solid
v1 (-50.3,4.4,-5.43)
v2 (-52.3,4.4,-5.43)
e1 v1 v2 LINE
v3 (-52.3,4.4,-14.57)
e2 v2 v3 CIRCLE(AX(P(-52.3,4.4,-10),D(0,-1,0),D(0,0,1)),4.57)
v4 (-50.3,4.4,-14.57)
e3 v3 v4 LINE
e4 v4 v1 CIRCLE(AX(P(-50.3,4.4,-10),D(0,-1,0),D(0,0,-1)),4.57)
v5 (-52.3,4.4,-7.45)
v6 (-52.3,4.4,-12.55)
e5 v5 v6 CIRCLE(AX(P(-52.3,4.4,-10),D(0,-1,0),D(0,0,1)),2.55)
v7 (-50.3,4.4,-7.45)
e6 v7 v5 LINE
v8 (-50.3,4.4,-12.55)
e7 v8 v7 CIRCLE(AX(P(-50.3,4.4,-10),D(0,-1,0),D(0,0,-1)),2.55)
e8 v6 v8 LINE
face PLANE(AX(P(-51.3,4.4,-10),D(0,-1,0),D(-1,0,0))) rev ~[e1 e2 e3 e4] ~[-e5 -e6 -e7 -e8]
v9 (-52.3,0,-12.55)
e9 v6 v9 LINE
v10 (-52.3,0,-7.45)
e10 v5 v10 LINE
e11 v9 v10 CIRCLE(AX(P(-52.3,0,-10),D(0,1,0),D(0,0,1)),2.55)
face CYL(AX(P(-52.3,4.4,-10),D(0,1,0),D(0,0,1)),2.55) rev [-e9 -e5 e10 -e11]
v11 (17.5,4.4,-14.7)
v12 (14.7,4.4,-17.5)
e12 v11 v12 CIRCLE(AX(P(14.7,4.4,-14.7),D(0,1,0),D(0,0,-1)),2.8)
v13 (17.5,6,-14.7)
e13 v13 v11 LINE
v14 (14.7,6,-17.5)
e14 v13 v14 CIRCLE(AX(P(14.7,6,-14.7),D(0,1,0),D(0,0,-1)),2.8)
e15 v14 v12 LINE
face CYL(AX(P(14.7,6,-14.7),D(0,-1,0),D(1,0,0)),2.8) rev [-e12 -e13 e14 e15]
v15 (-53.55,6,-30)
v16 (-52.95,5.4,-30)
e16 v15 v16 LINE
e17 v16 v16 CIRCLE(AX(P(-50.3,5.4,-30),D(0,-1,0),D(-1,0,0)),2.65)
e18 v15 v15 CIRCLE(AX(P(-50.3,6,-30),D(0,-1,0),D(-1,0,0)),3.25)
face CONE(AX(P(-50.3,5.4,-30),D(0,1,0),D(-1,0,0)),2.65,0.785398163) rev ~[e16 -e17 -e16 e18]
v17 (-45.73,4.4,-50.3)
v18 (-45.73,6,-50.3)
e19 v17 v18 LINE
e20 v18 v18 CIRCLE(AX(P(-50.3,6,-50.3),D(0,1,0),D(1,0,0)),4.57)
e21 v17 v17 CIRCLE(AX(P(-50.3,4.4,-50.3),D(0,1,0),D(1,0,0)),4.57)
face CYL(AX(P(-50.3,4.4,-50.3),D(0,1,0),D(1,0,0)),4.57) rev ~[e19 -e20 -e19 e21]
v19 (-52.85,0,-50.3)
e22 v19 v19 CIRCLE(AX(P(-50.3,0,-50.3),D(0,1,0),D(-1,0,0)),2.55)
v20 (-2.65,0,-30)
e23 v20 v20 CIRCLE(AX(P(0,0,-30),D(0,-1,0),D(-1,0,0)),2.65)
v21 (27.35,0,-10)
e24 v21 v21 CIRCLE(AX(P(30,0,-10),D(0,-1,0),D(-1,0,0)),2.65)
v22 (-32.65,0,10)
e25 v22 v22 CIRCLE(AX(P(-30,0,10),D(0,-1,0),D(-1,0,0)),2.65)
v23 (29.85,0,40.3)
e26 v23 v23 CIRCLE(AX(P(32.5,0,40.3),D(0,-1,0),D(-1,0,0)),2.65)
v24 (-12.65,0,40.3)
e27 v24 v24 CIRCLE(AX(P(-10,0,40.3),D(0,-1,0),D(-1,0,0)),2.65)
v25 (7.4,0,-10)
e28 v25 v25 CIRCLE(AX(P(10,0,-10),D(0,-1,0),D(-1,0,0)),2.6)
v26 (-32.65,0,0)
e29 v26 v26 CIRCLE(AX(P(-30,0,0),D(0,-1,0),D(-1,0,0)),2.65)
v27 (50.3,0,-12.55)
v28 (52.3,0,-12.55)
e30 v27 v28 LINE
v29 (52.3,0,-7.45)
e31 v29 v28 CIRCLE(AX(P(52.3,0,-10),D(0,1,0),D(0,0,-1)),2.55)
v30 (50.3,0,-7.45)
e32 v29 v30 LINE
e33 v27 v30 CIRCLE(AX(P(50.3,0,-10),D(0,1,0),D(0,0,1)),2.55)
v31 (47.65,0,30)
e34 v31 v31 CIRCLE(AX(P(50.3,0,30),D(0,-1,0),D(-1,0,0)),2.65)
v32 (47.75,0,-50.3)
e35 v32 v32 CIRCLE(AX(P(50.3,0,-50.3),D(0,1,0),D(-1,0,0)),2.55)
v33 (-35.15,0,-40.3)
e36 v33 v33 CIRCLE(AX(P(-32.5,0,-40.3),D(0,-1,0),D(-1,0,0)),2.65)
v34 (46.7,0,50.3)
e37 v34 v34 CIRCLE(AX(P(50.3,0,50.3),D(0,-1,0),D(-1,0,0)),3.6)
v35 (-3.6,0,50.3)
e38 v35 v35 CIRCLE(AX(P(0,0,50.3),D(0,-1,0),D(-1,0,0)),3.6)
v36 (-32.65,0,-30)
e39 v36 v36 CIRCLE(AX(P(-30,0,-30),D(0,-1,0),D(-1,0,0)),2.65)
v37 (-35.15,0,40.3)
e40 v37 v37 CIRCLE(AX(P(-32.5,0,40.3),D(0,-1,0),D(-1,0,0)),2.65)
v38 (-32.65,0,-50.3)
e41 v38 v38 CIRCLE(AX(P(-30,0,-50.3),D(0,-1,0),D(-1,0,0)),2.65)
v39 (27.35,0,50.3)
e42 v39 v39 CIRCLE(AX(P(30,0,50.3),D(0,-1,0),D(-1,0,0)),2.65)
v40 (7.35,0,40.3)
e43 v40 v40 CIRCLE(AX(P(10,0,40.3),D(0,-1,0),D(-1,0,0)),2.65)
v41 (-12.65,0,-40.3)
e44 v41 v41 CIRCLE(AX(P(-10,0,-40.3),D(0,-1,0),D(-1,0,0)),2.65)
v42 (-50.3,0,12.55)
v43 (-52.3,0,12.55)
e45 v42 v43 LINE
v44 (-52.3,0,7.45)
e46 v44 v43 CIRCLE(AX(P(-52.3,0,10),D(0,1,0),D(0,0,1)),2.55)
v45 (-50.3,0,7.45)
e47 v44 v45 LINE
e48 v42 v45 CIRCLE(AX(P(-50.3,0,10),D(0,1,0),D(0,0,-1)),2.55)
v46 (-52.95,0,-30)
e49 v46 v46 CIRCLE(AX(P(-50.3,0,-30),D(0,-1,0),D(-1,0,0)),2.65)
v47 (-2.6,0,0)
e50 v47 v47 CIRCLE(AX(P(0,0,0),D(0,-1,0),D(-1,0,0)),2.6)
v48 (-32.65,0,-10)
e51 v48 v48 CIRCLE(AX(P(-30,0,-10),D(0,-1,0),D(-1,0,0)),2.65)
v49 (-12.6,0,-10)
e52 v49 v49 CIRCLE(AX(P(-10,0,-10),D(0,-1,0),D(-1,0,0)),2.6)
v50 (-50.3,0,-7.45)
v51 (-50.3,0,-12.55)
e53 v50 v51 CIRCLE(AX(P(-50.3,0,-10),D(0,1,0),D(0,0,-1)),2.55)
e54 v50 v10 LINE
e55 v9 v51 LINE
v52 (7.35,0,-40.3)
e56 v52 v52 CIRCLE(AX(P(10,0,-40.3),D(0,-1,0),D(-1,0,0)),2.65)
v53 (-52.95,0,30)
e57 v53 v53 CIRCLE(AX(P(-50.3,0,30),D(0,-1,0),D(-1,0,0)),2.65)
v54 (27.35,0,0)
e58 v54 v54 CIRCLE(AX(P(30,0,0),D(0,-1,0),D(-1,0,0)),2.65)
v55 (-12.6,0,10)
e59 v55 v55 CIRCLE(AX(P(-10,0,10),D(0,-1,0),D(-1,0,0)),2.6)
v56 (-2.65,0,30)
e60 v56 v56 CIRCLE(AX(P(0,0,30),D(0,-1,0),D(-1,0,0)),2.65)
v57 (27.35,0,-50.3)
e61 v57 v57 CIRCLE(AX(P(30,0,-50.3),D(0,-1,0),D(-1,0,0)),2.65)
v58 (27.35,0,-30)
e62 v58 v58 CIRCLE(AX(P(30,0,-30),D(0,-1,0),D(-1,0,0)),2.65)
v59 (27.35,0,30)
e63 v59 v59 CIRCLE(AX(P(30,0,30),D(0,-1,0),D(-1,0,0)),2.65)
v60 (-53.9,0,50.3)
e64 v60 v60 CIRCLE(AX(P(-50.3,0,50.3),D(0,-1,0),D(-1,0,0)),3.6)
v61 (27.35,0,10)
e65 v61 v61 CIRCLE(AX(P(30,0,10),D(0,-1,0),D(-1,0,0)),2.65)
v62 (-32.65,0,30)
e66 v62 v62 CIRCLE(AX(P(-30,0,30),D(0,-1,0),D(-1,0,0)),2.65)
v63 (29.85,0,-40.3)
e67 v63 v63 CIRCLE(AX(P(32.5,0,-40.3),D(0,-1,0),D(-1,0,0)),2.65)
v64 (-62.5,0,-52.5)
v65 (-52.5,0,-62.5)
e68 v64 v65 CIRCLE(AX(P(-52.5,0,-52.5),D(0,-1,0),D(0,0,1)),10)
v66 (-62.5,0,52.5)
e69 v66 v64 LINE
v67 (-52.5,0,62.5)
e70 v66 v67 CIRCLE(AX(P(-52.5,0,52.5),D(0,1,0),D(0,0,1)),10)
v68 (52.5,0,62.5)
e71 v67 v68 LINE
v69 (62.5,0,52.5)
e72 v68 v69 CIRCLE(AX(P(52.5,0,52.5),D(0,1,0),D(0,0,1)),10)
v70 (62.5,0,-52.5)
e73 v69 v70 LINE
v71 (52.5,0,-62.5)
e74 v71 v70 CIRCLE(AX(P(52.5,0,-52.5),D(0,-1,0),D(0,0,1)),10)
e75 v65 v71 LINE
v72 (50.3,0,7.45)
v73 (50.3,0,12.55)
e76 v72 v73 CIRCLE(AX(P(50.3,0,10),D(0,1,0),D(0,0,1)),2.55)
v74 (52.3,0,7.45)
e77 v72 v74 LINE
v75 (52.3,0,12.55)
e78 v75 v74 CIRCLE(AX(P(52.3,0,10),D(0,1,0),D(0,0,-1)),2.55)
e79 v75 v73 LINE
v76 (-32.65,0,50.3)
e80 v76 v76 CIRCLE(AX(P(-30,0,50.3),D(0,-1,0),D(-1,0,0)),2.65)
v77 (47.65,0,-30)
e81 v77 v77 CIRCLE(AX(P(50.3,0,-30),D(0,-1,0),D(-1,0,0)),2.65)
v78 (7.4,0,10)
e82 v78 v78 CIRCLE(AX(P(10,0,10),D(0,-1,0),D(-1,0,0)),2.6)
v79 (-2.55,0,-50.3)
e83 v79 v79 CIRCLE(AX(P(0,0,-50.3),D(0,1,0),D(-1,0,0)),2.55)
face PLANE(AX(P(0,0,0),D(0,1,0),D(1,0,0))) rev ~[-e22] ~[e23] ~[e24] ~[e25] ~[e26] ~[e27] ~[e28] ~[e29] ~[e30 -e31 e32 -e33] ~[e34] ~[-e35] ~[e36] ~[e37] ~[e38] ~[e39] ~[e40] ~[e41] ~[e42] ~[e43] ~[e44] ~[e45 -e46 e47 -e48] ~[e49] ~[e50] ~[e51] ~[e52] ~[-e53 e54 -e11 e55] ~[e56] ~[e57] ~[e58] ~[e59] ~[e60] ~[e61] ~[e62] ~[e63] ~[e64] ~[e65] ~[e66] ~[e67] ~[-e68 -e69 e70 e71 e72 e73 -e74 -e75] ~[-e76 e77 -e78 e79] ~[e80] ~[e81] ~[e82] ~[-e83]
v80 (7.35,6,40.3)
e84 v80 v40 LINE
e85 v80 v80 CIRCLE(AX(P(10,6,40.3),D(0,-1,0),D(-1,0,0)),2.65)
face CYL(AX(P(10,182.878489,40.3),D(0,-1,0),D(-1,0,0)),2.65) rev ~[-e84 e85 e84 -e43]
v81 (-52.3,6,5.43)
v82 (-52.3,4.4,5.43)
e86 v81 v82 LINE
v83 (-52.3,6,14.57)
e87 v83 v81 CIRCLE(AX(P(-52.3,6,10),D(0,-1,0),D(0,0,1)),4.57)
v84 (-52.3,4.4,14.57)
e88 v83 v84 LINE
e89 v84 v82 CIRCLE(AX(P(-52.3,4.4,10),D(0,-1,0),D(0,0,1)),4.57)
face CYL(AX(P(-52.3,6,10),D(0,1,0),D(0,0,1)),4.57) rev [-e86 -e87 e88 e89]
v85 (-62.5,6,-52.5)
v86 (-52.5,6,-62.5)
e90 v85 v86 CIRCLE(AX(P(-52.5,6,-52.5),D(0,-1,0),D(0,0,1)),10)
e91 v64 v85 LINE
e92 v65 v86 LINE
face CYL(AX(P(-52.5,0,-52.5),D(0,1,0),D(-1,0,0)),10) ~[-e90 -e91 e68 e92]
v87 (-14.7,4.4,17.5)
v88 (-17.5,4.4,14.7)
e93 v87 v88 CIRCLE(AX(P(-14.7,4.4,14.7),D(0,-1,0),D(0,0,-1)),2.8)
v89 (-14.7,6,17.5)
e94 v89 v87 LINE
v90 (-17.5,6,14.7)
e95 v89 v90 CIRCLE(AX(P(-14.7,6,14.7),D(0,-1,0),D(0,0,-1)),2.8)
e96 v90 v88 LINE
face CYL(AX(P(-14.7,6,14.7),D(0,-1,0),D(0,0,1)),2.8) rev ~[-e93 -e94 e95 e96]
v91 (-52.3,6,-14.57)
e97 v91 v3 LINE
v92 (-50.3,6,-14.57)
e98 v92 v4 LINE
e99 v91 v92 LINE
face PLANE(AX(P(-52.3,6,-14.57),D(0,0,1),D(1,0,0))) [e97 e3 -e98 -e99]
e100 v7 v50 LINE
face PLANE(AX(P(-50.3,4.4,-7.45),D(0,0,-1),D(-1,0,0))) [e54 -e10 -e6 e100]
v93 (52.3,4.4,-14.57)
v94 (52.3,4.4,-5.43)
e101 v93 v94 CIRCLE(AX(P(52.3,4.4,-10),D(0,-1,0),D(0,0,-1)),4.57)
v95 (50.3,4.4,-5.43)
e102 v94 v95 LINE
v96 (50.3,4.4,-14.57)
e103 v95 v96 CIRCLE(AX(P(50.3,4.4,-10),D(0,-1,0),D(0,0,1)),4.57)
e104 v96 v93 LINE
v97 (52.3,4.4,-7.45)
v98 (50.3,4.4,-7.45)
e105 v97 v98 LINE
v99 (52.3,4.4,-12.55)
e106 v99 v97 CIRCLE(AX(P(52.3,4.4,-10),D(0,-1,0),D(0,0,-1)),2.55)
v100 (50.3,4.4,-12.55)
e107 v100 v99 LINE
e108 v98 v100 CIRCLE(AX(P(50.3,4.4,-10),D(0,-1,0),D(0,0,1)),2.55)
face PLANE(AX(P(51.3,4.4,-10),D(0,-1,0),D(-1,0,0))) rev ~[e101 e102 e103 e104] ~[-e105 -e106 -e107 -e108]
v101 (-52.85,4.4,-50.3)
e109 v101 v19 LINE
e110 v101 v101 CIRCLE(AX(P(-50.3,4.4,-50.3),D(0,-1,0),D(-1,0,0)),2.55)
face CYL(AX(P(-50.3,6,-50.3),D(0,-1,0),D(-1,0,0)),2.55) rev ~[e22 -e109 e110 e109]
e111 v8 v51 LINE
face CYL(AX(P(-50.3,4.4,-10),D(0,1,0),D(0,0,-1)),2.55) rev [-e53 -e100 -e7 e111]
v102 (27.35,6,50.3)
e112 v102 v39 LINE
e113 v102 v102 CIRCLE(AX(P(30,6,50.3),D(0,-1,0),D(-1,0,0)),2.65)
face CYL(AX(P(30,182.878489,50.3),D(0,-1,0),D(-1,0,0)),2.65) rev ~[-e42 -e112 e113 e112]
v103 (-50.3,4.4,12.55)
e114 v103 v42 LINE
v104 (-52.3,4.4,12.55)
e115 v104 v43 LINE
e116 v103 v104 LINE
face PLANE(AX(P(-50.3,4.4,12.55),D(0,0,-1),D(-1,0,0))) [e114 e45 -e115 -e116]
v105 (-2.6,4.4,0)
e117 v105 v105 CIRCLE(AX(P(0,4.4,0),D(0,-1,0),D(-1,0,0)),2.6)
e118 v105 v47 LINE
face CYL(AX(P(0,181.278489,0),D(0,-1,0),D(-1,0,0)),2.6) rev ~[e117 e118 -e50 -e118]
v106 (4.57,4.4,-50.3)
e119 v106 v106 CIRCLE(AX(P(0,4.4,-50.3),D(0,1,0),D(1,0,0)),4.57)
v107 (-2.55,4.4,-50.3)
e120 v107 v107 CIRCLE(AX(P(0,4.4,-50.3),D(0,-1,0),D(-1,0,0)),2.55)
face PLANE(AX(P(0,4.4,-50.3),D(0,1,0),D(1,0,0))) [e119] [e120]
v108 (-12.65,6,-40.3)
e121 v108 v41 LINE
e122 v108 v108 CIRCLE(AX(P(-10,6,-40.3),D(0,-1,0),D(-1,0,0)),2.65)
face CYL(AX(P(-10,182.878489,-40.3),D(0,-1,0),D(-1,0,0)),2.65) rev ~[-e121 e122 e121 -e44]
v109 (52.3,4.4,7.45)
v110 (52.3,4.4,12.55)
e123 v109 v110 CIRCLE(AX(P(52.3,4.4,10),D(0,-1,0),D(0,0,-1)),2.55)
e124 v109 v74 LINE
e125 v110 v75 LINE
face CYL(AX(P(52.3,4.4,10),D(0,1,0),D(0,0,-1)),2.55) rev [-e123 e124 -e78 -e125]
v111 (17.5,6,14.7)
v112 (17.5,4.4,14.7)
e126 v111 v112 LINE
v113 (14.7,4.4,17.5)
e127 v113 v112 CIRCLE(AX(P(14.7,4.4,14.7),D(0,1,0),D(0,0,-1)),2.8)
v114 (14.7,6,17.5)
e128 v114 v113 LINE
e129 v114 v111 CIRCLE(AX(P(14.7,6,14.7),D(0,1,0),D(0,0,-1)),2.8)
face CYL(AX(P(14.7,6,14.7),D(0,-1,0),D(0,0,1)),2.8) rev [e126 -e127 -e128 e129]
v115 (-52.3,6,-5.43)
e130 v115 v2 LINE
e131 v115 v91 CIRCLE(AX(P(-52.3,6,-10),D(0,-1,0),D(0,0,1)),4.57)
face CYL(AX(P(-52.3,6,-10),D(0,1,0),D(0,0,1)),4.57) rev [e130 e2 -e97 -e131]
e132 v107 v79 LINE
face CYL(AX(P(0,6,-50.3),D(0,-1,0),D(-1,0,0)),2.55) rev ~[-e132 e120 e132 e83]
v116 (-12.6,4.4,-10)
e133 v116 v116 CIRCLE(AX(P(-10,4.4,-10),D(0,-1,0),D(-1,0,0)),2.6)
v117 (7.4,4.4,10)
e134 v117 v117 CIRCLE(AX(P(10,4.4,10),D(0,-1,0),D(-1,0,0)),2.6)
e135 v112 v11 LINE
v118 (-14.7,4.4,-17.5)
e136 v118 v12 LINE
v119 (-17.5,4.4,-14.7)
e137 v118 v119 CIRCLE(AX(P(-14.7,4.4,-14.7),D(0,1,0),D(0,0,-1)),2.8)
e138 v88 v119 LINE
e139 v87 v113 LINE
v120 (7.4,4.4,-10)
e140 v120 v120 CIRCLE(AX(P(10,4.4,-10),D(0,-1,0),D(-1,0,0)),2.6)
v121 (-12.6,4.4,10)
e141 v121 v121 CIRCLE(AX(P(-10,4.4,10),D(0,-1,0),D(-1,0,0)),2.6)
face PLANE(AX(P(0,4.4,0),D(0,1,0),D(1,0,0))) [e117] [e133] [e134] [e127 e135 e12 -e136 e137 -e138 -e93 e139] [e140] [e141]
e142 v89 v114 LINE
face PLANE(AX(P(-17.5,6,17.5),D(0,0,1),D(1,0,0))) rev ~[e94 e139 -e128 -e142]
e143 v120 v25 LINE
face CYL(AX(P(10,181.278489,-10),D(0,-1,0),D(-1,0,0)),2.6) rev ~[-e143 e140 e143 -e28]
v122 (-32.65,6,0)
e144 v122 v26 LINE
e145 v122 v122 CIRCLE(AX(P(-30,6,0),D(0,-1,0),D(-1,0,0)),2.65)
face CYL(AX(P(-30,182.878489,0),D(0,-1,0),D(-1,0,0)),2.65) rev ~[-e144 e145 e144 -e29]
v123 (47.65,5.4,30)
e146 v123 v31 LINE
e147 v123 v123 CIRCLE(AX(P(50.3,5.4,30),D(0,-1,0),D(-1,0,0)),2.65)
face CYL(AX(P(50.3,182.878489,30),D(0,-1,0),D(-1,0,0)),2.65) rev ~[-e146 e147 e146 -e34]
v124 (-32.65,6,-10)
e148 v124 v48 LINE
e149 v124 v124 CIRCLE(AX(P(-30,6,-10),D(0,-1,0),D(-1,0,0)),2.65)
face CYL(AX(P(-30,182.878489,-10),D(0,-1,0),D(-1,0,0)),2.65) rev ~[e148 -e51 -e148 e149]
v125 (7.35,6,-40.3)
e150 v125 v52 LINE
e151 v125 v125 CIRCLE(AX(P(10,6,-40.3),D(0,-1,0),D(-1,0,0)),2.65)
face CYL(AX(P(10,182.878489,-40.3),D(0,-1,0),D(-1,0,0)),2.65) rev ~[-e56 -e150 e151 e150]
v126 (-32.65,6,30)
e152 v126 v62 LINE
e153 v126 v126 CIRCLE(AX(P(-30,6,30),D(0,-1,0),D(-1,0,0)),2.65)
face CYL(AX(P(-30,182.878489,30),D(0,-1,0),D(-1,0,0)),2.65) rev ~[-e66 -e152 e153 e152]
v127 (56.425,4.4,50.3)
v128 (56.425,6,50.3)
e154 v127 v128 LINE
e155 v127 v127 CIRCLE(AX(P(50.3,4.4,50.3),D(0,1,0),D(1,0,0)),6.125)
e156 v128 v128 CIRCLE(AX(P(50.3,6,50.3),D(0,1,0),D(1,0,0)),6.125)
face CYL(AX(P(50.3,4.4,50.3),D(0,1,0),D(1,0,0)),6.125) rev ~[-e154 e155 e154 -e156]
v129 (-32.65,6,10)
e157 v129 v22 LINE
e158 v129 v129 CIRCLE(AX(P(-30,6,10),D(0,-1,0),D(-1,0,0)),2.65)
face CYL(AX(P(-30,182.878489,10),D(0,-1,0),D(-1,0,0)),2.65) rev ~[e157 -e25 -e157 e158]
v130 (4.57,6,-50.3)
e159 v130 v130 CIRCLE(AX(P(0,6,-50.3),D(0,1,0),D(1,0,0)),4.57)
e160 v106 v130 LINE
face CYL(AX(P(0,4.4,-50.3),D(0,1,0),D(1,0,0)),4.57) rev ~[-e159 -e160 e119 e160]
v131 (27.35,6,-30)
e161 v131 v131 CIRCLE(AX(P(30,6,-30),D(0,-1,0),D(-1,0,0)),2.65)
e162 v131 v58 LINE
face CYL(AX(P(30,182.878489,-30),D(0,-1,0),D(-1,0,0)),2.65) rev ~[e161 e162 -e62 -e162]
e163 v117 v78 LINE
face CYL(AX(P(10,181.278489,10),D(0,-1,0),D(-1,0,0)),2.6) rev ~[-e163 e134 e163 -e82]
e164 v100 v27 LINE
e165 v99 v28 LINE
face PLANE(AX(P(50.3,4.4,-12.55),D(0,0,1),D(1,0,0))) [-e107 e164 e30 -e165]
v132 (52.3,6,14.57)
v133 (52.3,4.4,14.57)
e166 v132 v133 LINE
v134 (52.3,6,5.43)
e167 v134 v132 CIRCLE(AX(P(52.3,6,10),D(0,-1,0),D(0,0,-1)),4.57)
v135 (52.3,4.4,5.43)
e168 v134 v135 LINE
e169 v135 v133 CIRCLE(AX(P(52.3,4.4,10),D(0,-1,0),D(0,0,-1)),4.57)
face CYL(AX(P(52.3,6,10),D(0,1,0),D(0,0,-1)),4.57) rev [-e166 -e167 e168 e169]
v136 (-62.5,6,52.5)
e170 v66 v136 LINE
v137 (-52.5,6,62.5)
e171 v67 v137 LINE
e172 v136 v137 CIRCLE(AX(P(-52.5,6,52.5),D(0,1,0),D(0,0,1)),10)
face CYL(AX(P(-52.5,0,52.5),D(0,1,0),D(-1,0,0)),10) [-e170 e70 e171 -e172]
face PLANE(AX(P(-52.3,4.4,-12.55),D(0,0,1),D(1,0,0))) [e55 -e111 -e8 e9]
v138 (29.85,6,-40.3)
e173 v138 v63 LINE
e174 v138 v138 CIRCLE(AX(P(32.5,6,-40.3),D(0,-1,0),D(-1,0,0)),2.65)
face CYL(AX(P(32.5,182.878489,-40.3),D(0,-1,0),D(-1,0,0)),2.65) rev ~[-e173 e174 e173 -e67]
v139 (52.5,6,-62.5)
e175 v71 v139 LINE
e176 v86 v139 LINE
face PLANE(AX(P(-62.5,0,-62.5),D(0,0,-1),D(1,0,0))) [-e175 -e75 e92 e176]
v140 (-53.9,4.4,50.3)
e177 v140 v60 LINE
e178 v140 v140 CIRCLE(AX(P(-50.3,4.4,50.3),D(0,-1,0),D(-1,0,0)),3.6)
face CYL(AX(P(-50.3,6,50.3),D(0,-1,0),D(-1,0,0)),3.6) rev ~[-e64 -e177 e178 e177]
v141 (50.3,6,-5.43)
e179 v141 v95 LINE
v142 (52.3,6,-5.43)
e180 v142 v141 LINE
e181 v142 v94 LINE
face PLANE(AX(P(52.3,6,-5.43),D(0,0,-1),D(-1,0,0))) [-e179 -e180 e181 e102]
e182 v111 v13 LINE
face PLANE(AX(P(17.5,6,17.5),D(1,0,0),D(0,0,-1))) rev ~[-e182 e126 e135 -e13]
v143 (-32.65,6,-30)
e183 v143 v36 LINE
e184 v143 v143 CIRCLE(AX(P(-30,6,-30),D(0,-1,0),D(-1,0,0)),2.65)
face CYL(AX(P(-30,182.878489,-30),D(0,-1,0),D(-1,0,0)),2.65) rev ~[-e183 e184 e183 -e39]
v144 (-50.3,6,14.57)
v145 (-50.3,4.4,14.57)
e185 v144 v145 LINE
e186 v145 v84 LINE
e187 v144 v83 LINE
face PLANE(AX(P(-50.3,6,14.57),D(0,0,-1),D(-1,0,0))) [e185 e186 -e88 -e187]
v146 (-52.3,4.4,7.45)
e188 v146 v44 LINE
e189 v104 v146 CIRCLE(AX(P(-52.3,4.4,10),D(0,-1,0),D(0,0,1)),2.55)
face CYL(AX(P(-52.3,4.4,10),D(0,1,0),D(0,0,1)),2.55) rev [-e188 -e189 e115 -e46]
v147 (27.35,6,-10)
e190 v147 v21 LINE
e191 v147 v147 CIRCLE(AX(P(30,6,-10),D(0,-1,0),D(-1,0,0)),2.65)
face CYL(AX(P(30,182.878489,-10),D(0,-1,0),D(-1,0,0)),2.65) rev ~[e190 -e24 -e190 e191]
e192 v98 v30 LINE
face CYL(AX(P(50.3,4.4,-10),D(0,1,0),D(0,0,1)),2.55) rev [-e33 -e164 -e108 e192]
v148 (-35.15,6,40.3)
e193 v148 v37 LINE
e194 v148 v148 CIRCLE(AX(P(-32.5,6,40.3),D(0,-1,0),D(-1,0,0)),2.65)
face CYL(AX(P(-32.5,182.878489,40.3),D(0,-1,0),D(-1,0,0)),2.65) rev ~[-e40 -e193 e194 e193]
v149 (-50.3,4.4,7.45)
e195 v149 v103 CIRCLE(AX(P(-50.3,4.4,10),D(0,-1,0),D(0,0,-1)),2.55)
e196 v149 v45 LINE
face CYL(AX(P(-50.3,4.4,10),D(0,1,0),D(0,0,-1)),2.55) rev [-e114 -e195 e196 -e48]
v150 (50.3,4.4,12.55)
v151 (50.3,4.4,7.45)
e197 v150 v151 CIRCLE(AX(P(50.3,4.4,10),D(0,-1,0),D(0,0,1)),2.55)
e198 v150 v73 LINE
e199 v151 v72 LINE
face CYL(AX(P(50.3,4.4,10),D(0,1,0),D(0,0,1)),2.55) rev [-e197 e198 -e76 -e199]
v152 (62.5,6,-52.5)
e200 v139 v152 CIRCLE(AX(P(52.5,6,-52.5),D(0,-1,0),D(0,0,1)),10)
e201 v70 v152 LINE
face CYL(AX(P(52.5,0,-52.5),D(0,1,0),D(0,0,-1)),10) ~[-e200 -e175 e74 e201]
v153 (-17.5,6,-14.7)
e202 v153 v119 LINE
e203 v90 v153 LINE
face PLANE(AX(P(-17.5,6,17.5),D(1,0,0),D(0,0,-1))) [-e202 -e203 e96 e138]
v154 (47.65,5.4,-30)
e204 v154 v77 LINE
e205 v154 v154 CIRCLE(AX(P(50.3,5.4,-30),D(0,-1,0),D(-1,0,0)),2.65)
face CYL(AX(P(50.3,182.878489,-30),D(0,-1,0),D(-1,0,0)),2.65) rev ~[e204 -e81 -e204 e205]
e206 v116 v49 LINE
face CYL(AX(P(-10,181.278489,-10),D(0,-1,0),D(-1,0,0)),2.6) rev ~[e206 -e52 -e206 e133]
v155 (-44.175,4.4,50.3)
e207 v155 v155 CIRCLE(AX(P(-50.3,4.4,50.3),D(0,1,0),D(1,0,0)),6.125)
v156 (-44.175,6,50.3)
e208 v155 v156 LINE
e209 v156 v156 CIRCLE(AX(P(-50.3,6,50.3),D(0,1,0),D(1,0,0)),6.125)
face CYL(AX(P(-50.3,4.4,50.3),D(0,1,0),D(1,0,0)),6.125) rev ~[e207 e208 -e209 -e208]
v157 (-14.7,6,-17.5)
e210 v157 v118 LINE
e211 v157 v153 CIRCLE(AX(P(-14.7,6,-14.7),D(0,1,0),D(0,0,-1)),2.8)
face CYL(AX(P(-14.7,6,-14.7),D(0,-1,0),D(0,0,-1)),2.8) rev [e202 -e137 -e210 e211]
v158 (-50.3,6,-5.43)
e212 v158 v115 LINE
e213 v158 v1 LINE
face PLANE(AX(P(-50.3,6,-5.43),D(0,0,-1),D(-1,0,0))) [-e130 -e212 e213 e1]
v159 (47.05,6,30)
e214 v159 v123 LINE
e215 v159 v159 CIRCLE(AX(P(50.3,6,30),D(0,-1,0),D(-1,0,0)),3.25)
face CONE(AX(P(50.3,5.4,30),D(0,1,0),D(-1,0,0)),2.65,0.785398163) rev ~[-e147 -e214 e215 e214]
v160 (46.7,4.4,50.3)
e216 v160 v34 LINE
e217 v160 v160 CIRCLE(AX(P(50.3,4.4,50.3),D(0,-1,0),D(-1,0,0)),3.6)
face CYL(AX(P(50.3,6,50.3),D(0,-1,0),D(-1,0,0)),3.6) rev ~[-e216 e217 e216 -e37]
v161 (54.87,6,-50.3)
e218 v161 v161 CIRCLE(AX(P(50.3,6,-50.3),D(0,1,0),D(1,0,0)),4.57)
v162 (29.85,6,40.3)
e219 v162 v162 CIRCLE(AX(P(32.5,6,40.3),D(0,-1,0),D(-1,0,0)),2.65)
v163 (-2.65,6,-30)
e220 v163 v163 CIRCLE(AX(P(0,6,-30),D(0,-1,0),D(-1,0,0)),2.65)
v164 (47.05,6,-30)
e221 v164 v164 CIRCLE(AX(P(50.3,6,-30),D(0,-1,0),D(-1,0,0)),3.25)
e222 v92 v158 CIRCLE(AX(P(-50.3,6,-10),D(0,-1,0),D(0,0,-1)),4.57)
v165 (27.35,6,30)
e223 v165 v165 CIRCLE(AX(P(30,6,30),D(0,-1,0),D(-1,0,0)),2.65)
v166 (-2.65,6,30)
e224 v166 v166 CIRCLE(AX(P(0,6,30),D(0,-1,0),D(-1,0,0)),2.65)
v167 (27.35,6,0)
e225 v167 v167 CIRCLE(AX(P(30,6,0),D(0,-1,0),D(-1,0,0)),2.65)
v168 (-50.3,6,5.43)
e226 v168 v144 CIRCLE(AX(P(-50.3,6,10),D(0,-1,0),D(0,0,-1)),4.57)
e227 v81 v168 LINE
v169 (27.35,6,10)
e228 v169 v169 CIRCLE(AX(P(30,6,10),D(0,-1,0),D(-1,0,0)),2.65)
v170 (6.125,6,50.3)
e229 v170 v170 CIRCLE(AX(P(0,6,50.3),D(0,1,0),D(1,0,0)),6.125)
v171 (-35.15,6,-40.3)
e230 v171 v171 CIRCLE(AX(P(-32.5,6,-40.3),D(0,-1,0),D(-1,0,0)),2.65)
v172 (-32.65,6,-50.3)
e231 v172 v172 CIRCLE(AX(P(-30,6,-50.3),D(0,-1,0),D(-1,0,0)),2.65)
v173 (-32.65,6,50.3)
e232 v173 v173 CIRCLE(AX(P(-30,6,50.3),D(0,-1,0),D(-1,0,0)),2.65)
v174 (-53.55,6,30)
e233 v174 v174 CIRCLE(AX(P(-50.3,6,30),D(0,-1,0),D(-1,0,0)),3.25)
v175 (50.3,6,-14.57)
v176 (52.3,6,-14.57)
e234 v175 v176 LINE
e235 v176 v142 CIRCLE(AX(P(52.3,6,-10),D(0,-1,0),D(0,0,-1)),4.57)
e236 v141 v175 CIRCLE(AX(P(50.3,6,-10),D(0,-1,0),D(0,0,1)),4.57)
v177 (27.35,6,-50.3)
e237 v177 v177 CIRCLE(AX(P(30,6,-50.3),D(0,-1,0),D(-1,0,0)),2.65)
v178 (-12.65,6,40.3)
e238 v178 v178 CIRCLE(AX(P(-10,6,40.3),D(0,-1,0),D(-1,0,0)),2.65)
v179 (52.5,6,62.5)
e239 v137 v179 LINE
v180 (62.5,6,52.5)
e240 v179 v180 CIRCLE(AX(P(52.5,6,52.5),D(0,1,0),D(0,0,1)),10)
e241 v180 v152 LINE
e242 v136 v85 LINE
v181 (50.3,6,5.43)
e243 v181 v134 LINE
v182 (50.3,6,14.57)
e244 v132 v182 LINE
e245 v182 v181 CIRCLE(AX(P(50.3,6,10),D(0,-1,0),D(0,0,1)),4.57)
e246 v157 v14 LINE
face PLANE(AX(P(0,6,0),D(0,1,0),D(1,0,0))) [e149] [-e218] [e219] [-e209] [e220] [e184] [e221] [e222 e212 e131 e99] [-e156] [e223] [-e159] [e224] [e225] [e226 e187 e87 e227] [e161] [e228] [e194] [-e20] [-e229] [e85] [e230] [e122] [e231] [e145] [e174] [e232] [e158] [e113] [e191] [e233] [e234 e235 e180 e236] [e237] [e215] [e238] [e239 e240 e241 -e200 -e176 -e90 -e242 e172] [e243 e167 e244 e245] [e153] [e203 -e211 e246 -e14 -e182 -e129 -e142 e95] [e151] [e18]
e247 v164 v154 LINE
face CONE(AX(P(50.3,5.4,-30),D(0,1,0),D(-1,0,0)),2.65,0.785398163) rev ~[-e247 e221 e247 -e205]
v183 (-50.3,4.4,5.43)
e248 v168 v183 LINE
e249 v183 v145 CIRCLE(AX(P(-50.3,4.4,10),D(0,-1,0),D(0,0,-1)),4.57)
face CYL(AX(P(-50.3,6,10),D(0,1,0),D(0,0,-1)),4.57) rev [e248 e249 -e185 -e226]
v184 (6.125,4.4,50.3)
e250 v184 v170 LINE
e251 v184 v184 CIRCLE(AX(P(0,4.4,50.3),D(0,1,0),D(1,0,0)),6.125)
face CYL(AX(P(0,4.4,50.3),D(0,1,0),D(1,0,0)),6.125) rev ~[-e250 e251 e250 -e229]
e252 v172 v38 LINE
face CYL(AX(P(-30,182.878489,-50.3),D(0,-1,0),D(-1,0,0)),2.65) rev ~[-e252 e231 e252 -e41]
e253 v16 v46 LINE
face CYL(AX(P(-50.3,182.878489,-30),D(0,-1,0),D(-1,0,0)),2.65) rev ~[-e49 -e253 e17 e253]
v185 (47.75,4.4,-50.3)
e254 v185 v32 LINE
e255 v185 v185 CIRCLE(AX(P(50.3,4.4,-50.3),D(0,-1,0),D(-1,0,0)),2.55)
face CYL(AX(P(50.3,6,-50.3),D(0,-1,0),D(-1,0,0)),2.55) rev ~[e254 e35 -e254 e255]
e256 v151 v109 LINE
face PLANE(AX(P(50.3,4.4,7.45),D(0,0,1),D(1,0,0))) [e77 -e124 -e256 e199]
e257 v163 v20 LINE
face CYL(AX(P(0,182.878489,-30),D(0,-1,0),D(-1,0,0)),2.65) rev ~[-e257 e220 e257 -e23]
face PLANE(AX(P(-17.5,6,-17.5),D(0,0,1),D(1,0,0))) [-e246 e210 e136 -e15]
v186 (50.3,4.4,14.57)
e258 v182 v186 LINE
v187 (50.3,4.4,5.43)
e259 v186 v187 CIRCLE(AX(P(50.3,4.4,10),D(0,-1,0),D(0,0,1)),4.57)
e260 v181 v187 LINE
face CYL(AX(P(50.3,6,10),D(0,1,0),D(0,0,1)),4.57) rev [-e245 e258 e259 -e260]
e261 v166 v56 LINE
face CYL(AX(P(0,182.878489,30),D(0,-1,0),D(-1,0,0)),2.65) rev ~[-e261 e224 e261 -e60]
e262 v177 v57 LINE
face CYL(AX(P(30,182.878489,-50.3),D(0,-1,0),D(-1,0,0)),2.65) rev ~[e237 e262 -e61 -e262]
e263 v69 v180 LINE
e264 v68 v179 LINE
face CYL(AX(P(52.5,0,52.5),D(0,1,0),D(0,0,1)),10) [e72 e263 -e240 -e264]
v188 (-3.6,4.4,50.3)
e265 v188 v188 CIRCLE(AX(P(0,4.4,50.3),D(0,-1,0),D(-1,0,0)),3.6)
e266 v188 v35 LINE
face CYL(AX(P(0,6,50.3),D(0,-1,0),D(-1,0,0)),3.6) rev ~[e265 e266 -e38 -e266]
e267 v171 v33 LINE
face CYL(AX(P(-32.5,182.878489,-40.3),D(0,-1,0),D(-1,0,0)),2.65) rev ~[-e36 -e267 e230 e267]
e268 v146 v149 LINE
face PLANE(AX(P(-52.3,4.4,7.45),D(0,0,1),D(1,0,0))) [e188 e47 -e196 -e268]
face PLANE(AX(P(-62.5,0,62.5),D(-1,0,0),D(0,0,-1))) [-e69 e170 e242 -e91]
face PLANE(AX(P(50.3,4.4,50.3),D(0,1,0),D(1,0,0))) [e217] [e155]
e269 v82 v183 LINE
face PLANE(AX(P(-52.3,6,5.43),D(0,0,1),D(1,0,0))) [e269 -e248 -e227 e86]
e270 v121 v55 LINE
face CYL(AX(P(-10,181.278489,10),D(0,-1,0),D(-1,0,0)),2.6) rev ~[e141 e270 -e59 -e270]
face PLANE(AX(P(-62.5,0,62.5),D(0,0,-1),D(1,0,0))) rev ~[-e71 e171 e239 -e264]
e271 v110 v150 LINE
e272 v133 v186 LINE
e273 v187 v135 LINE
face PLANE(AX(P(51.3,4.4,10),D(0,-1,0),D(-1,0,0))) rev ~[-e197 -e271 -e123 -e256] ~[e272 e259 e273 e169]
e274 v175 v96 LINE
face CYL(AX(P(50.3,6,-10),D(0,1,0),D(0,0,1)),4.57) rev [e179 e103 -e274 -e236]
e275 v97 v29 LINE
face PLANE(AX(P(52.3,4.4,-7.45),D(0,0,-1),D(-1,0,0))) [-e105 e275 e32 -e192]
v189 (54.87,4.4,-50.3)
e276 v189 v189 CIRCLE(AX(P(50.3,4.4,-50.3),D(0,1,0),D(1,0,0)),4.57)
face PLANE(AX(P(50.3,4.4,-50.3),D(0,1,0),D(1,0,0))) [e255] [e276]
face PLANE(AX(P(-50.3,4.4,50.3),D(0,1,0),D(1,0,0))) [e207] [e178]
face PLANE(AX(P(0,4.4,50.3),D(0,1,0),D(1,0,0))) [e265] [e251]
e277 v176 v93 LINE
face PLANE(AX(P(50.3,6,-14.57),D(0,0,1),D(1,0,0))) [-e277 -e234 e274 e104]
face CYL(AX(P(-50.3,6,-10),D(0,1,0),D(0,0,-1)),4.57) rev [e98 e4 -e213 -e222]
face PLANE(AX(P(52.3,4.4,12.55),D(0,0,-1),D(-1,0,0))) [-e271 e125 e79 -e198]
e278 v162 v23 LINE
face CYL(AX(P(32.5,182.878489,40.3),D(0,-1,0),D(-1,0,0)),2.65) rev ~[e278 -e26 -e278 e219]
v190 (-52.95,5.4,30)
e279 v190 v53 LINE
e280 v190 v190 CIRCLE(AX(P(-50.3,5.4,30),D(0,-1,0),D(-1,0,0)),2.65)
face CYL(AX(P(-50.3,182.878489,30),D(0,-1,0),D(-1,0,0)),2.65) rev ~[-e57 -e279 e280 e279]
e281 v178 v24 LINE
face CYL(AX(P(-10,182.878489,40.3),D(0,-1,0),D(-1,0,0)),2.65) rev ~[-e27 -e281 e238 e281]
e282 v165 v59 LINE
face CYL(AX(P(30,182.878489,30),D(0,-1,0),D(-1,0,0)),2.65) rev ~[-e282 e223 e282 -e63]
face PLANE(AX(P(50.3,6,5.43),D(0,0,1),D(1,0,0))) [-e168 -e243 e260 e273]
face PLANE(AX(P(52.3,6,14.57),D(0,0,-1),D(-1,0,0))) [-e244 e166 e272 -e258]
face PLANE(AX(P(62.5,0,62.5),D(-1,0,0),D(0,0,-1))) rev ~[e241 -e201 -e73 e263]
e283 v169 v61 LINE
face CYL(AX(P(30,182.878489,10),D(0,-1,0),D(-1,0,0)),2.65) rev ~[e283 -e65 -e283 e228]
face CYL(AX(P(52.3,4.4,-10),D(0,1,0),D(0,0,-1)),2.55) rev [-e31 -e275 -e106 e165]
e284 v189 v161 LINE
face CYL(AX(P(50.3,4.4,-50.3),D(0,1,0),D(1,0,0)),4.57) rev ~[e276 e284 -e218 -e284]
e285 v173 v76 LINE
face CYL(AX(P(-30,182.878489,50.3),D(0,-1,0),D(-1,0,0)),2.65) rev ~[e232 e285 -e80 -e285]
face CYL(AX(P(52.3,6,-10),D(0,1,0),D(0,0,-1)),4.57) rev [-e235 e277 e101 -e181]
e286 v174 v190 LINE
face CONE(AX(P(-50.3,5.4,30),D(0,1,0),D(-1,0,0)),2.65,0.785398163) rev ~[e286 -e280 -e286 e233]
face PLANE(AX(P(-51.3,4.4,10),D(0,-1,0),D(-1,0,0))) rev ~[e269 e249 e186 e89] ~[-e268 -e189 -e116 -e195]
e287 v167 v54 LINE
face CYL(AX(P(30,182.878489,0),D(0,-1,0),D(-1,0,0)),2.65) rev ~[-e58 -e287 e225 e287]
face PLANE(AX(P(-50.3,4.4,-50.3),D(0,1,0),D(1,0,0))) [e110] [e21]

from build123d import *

# Parameters (mm, degrees)
SKETCH1_W                        = 125
SKETCH1_H                        = 125
BOSS_EXTRUDE1_DEPTH              = 6
CBORE_FOR_M6_5_SHSS1_D           = 7.2
CBORE_FOR_M6_5_SHSS1_CBORE_D     = 12.25
CBORE_FOR_M6_5_SHSS1_CBORE_DEPTH = 1.6
HOLE1_D                          = 5.1
HOLE1_DEPTH                      = 6
HOLE1_CBORE_D                    = 9.14
HOLE1_CBORE_DEPTH                = 1.6
HOLE1_TIP                        = 1.532194579
F_5_3_5_3_DIAMETER_HOLE1_D       = 5.3
F_5_3_5_3_DIAMETER_HOLE2_D       = 5.3
CUT_EXTRUDE1_DEPTH               = 1.6
CUT_EXTRUDE2_DEPTH               = 89.497796583
SKETCH16_W                       = 35
SKETCH16_H                       = 35
CUT_EXTRUDE3_DEPTH               = 1.6
F_5_2_5_2_DIAMETER_HOLE1_D       = 5.2
FILLET1_R                        = 10
FILLET2_R                        = 2.8
F_5_3_5_3_DIAMETER_HOLE3_D       = 5.3
CHAMFER1_SIZE                    = 0.6


with BuildPart() as part:
    # Sketch1 → Boss-Extrude1 (new body)
    with BuildSketch(Plane(origin=(0, 0, 0), x_dir=(1, 0, 0), z_dir=(0, 1, 0))):
        Rectangle(SKETCH1_W, SKETCH1_H)
    extrude(amount=BOSS_EXTRUDE1_DEPTH)

    # CBORE for M6.5 SHSS1 (through all)
    with Locations(Plane(origin=(0, 6, 0), x_dir=(1, 0, 0), z_dir=(0, 1, 0))):
        with Locations((-50.3, -50.3), (0, -50.3), (50.3, -50.3)):
            CounterBoreHole(CBORE_FOR_M6_5_SHSS1_D / 2, CBORE_FOR_M6_5_SHSS1_CBORE_D / 2, CBORE_FOR_M6_5_SHSS1_CBORE_DEPTH)

    # Hole1
    with Locations(Plane(origin=(0, 6, 0), x_dir=(1, 0, 0), z_dir=(0, 1, 0))):
        with Locations((-50.3, 50.3), (0, 50.3), (50.3, 50.3)):
            CounterBoreHole(HOLE1_D / 2, HOLE1_CBORE_D / 2, HOLE1_CBORE_DEPTH, depth=HOLE1_DEPTH)
            with Locations((0, 0, -(HOLE1_DEPTH + HOLE1_TIP / 2))):  # 118° drill point
                Cone(0, HOLE1_D / 2, HOLE1_TIP, mode=Mode.SUBTRACT)

    # Ø5.3 (5.3) Diameter Hole1 (through all)
    with Locations(Plane(origin=(0, 6, 0), x_dir=(1, 0, 0), z_dir=(0, 1, 0))):
        with Locations((-30, 50.3), (-32.5, 40.3), (-30, 30), (-10, 40.3), (0, 30), (-30, 10), (-30, 0)):
            Hole(F_5_3_5_3_DIAMETER_HOLE1_D / 2)

    # Ø5.3 (5.3) Diameter Hole2 (through all)
    with Locations(Plane(origin=(0, 6, 0), x_dir=(1, 0, 0), z_dir=(0, 1, 0))):
        with Locations((10, 40.3), (30, 50.3), (32.5, 40.3), (30, 30), (30, 10), (30, 0), (30, -10), (-30, -10), (-30, -30), (0, -30), (30, -30), (10, -40.3), (-10, -40.3), (-32.5, -40.3), (32.5, -40.3), (30, -50.3), (-30, -50.3)):
            Hole(F_5_3_5_3_DIAMETER_HOLE2_D / 2)

    # Sketch13 → Cut-Extrude1 (cut)
    with BuildSketch(Plane(origin=(0, 6, 0), x_dir=(1, 0, 0), z_dir=(0, 1, 0))):
        with BuildLine():
            Line((52.3, 5.43), (50.3, 5.43))
            ThreePointArc((50.3, 5.43), (45.73, 10), (50.3, 14.57))
            Line((50.3, 14.57), (52.3, 14.57))
            ThreePointArc((52.3, 14.57), (56.87, 10), (52.3, 5.43))
        make_face()
        with BuildLine():
            Line((-52.3, 14.57), (-50.3, 14.57))
            ThreePointArc((-50.3, 14.57), (-45.73, 10), (-50.3, 5.43))
            Line((-50.3, 5.43), (-52.3, 5.43))
            ThreePointArc((-52.3, 5.43), (-56.87, 10), (-52.3, 14.57))
        make_face()
        with BuildLine():
            Line((-52.3, -5.43), (-50.3, -5.43))
            ThreePointArc((-50.3, -5.43), (-45.73, -10), (-50.3, -14.57))
            Line((-50.3, -14.57), (-52.3, -14.57))
            ThreePointArc((-52.3, -14.57), (-56.87, -10), (-52.3, -5.43))
        make_face()
        with BuildLine():
            Line((52.3, -14.57), (50.3, -14.57))
            ThreePointArc((50.3, -14.57), (45.73, -10), (50.3, -5.43))
            Line((50.3, -5.43), (52.3, -5.43))
            ThreePointArc((52.3, -5.43), (56.87, -10), (52.3, -14.57))
        make_face()
    extrude(amount=-CUT_EXTRUDE1_DEPTH, mode=Mode.SUBTRACT)

    # Sketch15 → Cut-Extrude2 (cut, through all)
    with BuildSketch(Plane(origin=(0, 4.4, 0), x_dir=(1, 0, 0), z_dir=(0, 1, 0))):
        with BuildLine():
            Line((52.3, 7.45), (50.3, 7.45))
            ThreePointArc((50.3, 7.45), (47.75, 10), (50.3, 12.55))
            Line((50.3, 12.55), (52.3, 12.55))
            ThreePointArc((52.3, 12.55), (54.85, 10), (52.3, 7.45))
        make_face()
        with BuildLine():
            Line((-52.3, 12.55), (-50.3, 12.55))
            ThreePointArc((-50.3, 12.55), (-47.75, 10), (-50.3, 7.45))
            Line((-50.3, 7.45), (-52.3, 7.45))
            ThreePointArc((-52.3, 7.45), (-54.85, 10), (-52.3, 12.55))
        make_face()
        with BuildLine():
            Line((-52.3, -7.45), (-50.3, -7.45))
            ThreePointArc((-50.3, -7.45), (-47.75, -10), (-50.3, -12.55))
            Line((-50.3, -12.55), (-52.3, -12.55))
            ThreePointArc((-52.3, -12.55), (-54.85, -10), (-52.3, -7.45))
        make_face()
        with BuildLine():
            Line((50.3, -7.45), (52.3, -7.45))
            ThreePointArc((52.3, -7.45), (54.85, -10), (52.3, -12.55))
            Line((52.3, -12.55), (50.3, -12.55))
            ThreePointArc((50.3, -12.55), (47.75, -10), (50.3, -7.45))
        make_face()
    extrude(amount=-CUT_EXTRUDE2_DEPTH, mode=Mode.SUBTRACT)

    # Sketch16 → Cut-Extrude3 (cut)
    with BuildSketch(Plane(origin=(0, 6, 0), x_dir=(1, 0, 0), z_dir=(0, 1, 0))):
        Rectangle(SKETCH16_W, SKETCH16_H)
    extrude(amount=-CUT_EXTRUDE3_DEPTH, mode=Mode.SUBTRACT)

    # Ø5.2 (5.2) Diameter Hole1 (through all)
    with Locations(Plane(origin=(0, 4.4, 0), x_dir=(1, 0, 0), z_dir=(0, 1, 0))):
        with Locations((-10, 10), (0, 0), (10, 10), (10, -10), (-10, -10)):
            Hole(F_5_2_5_2_DIAMETER_HOLE1_D / 2)

    # Fillet1
    fillet1_edges = [part.edges().sort_by_distance(p)[0] for p in [
        (62.5, 3, 62.5),
        (-62.5, 3, 62.5),
        (-62.5, 3, -62.5),
        (62.5, 3, -62.5),
    ]]
    fillet(fillet1_edges, radius=FILLET1_R)

    # Fillet2
    fillet2_edges = [part.edges().sort_by_distance(p)[0] for p in [
        (17.5, 5.2, -17.5),
        (17.5, 5.2, 17.5),
        (-17.5, 5.2, 17.5),
        (-17.5, 5.2, -17.5),
    ]]
    fillet(fillet2_edges, radius=FILLET2_R)

    # Ø5.3 (5.3) Diameter Hole3 (through all)
    with Locations(Plane(origin=(0, 6, 0), x_dir=(1, 0, 0), z_dir=(0, 1, 0))):
        with Locations((-50.3, 30), (50.3, 30), (50.3, -30), (-50.3, -30)):
            Hole(F_5_3_5_3_DIAMETER_HOLE3_D / 2)

    # Chamfer1
    chamfer1_edges = [part.edges().sort_by_distance(p)[0] for p in [
        (-47.65, 6, 30),
        (52.95, 6, 30),
        (52.95, 6, -30),
        (-47.65, 6, -30),
    ]]
    chamfer(chamfer1_edges, length=CHAMFER1_SIZE)


solid = part.part
